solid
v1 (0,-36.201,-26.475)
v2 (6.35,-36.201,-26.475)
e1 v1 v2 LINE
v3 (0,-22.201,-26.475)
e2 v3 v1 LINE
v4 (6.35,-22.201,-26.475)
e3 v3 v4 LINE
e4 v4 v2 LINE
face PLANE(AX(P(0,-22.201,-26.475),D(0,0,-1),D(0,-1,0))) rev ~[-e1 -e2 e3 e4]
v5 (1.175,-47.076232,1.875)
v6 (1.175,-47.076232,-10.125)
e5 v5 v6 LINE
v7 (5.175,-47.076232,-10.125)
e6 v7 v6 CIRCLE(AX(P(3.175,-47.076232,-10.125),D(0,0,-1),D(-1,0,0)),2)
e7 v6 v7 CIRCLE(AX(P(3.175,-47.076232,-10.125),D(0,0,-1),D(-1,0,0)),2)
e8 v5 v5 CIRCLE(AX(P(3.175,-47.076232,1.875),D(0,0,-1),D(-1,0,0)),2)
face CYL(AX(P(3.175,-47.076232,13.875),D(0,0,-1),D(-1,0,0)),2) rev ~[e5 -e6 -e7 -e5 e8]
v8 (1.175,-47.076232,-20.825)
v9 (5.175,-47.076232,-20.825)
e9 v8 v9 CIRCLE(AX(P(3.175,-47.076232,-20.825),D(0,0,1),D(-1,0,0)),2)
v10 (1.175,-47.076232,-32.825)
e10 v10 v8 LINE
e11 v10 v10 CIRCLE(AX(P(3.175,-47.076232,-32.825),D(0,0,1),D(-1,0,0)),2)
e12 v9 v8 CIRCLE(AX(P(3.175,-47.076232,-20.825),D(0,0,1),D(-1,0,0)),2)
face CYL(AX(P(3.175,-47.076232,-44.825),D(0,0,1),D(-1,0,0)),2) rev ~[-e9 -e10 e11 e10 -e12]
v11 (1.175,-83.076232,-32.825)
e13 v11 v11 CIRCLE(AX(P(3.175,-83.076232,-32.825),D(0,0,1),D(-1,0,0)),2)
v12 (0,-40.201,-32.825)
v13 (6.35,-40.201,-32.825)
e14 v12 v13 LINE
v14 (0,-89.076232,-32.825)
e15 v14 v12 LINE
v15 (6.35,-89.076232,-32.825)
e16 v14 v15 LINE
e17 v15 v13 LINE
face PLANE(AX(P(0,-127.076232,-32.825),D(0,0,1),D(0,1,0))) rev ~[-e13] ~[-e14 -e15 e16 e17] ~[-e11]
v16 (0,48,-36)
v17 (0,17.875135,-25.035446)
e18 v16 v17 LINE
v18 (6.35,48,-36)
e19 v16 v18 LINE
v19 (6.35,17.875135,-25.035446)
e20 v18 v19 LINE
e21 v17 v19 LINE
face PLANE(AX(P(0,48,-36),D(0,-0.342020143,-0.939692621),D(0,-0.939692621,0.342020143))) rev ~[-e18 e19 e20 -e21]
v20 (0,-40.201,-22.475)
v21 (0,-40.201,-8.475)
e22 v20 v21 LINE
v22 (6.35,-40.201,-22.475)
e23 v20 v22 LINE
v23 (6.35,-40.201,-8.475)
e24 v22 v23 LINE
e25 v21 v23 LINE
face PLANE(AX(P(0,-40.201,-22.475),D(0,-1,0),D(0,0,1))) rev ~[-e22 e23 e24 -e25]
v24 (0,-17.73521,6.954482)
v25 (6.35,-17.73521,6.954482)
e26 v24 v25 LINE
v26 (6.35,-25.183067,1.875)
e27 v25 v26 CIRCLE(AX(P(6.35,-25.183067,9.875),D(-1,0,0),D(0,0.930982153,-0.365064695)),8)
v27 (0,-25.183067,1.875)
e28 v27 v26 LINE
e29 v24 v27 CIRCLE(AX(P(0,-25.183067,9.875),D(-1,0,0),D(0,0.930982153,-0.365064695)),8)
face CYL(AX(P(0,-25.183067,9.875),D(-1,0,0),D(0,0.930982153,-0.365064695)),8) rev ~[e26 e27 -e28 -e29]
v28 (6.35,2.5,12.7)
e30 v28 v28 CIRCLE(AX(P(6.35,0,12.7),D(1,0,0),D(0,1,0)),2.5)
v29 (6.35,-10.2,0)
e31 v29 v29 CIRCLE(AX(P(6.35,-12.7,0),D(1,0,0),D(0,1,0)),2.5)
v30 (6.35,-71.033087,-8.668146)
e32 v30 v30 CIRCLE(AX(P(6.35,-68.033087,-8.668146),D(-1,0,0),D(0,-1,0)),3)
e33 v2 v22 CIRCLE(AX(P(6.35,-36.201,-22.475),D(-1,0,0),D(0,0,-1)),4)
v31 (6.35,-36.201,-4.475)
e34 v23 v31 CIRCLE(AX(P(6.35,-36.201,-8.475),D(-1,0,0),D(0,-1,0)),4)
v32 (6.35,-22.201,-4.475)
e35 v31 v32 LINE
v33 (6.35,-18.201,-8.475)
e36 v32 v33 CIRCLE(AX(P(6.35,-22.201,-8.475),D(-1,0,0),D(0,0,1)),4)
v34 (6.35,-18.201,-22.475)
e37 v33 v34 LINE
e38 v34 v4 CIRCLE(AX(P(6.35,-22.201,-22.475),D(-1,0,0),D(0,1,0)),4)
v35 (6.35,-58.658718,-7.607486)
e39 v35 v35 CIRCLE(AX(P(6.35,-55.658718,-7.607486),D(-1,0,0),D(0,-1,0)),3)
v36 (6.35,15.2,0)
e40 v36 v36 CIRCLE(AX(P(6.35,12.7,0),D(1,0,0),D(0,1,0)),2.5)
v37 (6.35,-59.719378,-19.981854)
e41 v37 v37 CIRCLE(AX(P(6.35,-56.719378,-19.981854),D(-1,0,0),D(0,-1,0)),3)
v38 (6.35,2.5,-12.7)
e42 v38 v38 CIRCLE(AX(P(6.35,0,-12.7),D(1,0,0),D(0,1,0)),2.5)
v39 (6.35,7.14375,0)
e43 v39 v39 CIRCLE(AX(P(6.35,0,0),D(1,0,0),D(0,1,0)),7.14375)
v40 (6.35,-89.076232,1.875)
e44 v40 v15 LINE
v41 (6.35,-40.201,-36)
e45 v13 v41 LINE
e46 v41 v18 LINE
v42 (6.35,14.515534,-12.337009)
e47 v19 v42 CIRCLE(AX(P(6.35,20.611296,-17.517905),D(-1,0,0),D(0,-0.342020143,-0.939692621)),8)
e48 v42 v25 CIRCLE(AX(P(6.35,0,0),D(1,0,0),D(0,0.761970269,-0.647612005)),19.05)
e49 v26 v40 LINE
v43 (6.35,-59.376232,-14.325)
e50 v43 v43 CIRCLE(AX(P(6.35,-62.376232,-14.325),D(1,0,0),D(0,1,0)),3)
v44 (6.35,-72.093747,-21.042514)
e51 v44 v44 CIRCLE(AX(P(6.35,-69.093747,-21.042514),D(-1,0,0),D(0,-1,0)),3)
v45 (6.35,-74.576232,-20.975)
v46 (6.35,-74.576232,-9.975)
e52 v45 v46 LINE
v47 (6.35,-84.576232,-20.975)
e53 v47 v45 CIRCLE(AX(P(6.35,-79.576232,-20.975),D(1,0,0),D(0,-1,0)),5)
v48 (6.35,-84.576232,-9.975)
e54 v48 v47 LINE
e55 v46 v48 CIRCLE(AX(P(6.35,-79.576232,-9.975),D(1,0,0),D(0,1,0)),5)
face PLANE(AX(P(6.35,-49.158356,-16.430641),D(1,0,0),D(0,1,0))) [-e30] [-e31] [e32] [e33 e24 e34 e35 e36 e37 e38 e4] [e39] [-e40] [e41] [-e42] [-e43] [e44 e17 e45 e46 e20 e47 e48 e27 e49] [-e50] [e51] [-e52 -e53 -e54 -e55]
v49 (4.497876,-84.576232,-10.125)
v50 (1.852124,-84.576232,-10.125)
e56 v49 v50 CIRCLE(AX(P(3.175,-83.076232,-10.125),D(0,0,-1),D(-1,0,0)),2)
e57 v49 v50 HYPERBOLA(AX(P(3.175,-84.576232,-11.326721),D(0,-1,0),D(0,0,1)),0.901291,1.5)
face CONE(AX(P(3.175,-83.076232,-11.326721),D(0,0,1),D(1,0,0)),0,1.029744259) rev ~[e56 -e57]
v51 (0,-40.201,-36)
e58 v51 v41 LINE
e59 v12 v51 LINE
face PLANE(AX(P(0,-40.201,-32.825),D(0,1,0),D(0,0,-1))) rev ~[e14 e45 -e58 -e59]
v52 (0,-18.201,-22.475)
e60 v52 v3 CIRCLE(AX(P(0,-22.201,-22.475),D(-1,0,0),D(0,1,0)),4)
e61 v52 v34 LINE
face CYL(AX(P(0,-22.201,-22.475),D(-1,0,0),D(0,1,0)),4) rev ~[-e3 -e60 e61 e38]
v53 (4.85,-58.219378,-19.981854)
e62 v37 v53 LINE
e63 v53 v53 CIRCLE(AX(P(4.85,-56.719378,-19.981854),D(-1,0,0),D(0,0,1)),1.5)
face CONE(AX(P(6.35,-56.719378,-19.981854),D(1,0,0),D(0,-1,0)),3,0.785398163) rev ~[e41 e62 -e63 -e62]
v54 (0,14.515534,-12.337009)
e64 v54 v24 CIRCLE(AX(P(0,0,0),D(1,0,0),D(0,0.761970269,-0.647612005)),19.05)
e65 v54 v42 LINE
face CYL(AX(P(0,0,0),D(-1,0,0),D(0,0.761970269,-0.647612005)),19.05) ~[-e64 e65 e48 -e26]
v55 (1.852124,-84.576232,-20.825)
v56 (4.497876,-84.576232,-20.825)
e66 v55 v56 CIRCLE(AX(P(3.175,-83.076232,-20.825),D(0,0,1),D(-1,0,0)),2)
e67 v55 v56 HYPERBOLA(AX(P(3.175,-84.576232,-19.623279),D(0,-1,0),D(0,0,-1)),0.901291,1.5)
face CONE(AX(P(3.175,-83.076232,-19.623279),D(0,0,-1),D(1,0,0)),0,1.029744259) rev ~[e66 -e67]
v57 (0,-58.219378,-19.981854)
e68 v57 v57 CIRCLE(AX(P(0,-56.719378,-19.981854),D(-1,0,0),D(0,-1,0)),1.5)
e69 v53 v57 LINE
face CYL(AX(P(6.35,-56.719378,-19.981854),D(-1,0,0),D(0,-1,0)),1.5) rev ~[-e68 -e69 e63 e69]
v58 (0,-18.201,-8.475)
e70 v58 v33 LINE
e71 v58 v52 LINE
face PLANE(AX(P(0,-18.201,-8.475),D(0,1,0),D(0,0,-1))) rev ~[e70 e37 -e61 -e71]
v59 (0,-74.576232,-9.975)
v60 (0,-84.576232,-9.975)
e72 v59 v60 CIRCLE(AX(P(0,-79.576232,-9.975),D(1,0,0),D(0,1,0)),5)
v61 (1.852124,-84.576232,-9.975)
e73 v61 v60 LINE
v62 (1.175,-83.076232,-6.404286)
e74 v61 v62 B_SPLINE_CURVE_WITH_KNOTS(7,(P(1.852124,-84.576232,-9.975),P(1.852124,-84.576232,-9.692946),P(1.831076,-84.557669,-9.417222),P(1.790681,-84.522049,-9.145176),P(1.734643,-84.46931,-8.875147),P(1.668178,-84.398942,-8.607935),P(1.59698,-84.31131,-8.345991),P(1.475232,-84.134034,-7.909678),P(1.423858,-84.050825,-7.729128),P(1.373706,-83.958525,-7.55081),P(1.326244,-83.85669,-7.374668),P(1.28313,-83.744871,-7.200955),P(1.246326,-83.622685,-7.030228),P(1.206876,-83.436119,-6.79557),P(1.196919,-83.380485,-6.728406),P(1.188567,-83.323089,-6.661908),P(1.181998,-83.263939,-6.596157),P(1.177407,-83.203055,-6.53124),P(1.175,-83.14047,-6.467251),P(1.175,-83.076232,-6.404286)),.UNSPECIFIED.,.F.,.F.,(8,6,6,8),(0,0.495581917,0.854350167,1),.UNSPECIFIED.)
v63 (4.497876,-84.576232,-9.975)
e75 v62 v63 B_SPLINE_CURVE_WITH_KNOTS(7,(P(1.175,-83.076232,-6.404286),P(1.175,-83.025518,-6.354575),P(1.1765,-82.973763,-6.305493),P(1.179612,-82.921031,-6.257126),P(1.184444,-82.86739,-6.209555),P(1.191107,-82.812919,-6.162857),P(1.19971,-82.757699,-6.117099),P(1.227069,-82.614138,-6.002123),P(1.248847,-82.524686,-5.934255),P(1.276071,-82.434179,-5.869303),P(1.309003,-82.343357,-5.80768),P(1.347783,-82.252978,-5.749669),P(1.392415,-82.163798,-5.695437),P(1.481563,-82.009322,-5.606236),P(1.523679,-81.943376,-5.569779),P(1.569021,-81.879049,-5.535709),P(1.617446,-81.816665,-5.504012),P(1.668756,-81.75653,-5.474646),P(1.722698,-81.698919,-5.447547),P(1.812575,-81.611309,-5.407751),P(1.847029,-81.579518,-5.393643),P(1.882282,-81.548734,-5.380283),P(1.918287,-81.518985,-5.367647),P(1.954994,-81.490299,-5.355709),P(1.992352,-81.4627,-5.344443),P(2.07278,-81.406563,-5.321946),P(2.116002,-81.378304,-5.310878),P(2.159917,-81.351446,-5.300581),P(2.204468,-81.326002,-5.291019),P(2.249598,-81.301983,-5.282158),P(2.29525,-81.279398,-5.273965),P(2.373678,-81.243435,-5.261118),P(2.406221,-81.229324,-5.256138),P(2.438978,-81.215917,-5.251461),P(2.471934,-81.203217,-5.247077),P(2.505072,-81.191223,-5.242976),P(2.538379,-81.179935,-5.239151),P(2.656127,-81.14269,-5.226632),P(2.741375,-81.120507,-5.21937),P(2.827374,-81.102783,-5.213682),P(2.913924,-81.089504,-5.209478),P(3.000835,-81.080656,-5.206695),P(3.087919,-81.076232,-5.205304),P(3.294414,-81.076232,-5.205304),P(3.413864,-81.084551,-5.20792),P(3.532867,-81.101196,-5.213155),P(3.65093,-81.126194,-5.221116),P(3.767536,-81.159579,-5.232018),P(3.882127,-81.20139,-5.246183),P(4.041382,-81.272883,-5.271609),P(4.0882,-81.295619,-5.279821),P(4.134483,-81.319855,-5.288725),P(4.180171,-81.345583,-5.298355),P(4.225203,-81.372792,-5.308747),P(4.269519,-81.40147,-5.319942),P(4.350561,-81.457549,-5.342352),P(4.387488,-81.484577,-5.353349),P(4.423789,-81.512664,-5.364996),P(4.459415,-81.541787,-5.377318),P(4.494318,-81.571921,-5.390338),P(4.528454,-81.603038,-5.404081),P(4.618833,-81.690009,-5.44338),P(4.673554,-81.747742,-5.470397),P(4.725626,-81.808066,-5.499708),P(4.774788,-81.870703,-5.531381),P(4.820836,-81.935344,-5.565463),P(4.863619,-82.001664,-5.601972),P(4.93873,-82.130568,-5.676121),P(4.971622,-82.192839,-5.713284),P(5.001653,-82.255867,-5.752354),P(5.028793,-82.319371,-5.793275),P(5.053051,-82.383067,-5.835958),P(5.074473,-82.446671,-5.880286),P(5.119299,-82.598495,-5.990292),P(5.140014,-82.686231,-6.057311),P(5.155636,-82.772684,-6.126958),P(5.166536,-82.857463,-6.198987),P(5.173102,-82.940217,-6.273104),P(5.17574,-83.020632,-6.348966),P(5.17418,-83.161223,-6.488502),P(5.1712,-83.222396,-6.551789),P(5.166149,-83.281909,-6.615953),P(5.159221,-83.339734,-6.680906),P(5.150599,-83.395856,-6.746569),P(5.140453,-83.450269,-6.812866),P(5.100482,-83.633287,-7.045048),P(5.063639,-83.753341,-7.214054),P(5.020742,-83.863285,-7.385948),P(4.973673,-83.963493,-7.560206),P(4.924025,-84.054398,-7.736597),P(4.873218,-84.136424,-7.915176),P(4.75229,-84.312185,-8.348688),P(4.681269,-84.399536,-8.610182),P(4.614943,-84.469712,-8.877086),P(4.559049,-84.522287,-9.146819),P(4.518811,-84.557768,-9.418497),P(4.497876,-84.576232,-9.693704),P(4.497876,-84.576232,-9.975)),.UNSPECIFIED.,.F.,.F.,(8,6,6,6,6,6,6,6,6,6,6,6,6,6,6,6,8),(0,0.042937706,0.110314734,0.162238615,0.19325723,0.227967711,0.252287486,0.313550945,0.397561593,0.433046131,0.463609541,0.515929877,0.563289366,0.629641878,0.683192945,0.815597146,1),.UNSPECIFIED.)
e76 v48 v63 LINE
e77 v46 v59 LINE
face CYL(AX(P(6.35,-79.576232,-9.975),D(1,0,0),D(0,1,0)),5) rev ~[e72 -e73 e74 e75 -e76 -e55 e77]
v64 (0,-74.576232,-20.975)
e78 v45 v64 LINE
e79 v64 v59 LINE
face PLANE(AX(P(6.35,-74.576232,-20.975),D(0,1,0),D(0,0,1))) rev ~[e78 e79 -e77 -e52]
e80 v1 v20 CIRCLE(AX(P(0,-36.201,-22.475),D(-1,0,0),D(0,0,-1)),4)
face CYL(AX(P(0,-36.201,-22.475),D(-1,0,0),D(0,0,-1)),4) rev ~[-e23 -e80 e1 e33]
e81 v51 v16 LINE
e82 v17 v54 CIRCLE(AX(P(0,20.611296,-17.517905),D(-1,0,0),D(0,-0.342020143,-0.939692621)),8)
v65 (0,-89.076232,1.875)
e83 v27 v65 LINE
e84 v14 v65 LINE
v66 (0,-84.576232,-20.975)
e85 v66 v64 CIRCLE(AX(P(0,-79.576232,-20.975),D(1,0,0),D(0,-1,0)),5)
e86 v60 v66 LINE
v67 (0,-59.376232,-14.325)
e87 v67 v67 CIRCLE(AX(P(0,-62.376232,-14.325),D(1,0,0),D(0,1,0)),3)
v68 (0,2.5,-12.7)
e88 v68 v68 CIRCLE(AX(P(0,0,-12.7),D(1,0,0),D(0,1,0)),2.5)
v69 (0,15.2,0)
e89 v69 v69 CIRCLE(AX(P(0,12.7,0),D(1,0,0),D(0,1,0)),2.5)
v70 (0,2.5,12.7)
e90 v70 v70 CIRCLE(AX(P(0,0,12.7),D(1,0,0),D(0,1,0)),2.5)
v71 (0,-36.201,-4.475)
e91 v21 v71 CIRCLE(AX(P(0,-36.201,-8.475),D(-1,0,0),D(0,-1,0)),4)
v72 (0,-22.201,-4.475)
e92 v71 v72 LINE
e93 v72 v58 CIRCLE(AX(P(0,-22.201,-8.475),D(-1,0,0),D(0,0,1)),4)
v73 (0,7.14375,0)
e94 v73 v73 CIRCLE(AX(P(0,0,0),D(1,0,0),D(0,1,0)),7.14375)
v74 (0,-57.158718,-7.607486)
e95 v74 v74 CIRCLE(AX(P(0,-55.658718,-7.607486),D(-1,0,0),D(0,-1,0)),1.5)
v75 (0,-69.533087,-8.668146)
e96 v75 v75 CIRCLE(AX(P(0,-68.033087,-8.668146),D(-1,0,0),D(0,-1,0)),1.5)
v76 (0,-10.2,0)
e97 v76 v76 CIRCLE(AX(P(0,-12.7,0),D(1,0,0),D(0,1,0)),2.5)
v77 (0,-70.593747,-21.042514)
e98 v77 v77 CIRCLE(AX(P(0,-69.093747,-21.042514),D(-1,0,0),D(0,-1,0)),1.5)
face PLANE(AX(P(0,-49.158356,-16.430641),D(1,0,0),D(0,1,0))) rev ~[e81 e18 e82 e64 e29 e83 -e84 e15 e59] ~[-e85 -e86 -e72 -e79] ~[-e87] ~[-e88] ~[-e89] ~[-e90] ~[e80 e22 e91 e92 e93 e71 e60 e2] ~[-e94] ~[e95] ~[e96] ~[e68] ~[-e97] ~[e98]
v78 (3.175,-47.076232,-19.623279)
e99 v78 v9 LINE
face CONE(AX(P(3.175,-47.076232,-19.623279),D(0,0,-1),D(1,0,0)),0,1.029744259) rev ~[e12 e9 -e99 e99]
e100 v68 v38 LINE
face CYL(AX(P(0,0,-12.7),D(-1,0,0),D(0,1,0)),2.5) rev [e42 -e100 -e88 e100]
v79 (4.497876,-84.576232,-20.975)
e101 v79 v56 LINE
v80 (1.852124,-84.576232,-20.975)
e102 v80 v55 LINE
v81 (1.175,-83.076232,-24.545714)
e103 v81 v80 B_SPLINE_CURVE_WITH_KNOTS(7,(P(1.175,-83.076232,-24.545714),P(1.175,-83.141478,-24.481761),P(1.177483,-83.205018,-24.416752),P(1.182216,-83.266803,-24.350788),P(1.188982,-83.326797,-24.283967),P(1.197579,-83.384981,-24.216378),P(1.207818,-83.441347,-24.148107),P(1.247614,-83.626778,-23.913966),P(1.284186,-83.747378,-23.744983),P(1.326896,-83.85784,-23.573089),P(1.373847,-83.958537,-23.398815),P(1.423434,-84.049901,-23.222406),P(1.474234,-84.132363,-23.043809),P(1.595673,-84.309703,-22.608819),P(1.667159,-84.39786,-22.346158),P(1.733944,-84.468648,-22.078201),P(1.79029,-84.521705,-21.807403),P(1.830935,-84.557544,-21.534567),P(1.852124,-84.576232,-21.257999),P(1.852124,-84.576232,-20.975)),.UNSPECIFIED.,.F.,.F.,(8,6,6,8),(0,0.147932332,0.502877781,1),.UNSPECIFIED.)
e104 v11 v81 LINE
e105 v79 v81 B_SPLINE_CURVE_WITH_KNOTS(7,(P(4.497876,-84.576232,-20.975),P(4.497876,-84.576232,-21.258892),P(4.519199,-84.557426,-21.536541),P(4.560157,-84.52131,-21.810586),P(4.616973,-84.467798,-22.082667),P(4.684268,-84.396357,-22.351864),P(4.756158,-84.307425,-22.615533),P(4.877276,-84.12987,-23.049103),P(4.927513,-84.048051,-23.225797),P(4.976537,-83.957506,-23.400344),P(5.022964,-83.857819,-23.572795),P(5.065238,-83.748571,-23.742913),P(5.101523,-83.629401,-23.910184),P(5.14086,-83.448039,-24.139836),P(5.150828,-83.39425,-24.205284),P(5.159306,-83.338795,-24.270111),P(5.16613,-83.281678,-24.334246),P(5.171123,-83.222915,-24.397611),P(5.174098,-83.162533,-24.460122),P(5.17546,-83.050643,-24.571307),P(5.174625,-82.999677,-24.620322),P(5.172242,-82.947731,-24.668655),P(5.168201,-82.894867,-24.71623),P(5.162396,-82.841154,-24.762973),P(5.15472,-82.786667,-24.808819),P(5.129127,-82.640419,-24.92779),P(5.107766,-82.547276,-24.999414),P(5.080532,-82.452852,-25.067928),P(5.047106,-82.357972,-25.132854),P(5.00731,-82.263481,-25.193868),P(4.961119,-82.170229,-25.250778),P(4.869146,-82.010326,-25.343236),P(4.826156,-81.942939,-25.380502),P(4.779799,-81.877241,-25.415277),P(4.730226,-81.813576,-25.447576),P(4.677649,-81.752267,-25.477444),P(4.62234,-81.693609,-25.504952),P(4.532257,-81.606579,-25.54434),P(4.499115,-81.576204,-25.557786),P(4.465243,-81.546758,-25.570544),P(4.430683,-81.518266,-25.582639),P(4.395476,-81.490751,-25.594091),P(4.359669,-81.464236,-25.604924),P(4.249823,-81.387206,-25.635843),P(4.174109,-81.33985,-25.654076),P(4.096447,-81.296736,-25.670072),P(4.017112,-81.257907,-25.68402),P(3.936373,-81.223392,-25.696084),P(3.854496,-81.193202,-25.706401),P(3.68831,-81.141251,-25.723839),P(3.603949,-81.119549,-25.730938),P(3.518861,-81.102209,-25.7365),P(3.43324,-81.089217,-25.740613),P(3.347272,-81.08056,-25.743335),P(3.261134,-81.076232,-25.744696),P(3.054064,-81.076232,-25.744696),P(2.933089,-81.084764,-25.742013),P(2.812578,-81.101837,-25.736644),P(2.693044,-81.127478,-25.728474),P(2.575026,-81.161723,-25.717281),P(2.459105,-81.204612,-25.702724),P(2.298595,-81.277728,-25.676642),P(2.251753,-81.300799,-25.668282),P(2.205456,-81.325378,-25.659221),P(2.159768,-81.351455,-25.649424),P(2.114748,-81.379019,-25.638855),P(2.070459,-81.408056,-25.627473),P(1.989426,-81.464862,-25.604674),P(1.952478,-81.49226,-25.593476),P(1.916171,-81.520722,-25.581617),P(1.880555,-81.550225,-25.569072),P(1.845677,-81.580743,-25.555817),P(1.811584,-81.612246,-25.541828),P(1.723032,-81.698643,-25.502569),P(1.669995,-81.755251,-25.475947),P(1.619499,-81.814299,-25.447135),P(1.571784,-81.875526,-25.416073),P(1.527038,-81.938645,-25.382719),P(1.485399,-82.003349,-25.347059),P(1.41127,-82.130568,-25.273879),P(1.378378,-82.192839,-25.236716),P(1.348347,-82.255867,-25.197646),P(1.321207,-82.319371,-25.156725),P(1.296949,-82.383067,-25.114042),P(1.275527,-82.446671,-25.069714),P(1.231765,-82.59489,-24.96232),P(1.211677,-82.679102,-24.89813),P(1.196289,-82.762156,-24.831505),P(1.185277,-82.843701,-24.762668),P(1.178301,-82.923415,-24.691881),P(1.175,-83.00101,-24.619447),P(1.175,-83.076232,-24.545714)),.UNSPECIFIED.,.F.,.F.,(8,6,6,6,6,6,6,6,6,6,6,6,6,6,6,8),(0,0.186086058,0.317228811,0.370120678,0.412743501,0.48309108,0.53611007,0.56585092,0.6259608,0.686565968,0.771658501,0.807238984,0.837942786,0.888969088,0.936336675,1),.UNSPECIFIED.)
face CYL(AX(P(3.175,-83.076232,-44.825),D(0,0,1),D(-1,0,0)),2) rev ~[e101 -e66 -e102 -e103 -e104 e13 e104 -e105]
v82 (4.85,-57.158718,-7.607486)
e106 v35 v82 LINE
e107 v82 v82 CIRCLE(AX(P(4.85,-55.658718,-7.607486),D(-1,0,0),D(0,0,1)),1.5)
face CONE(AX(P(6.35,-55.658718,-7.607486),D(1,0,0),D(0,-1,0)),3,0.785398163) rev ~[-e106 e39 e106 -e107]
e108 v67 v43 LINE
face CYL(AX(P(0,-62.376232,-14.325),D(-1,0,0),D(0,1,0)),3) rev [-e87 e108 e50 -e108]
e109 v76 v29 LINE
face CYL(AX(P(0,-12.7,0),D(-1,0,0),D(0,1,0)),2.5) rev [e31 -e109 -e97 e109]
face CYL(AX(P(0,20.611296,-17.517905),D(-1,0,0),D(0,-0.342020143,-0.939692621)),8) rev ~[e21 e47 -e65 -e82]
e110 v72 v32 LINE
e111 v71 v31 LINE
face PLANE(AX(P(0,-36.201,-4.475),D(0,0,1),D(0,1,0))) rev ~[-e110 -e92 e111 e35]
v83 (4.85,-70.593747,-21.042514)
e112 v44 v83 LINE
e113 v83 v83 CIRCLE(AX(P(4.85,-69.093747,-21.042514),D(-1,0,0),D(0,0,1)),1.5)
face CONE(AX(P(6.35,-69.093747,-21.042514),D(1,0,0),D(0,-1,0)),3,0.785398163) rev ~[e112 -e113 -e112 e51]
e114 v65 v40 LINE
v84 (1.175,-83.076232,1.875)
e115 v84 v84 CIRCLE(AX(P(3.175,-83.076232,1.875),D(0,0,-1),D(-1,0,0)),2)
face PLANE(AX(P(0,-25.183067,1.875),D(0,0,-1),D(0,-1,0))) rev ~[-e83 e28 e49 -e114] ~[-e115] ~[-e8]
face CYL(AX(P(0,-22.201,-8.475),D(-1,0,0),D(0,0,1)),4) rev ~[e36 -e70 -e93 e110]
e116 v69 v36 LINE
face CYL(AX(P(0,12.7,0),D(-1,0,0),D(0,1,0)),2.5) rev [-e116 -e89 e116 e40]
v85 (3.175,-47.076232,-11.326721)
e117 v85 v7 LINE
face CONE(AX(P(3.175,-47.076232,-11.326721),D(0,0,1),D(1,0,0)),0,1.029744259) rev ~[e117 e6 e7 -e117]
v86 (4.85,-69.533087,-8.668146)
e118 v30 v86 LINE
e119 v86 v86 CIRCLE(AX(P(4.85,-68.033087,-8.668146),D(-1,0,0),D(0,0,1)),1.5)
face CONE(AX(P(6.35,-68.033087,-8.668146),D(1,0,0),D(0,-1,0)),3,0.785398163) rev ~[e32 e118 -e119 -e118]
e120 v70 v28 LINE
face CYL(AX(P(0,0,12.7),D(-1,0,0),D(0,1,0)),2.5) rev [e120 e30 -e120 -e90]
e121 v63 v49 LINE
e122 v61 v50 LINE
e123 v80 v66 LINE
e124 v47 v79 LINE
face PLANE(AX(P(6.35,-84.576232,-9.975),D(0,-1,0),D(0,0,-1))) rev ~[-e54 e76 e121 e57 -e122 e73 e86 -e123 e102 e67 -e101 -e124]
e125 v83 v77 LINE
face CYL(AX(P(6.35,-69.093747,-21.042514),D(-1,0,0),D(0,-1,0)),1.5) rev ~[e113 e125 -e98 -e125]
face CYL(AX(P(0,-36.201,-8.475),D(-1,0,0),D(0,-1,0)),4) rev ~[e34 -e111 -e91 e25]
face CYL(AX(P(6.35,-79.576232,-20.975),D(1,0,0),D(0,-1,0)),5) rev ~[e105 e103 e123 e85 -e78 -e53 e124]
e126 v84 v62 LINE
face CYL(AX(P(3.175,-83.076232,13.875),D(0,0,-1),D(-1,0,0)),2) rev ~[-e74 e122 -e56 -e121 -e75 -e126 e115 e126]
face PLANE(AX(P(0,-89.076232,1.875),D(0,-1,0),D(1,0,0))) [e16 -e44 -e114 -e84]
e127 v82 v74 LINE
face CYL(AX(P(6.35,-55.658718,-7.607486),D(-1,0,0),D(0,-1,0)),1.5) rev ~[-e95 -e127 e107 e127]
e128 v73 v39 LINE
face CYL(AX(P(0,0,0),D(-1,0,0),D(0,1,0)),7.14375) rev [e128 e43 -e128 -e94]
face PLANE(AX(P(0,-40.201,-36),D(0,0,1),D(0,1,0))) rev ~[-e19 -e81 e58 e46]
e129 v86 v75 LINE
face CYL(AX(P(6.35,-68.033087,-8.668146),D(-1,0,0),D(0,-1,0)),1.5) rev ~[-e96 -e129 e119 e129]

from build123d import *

# Parameters (mm, degrees)
F0_R           = 3
F0_R_2         = 2.5
F0_R_3         = 7.14375
F1_DEPTH       = 6.35
F3_D           = 3
F3_CSINK_D     = 6
F3_CSINK_ANGLE = 90
F5_DEPTH       = 25
F6_W           = 6.35
F6_H           = 38
F7_DEPTH       = 37.876
F9_D           = 4
F9_DEPTH       = 12
F9_TIP         = 1.2017212381
F11_D          = 4
F11_DEPTH      = 12
F11_TIP        = 1.2017212381


with BuildPart() as f1:
    # F0 (on Right) → F1 (new body)
    with BuildSketch(Plane.YZ):
        with BuildLine():
            ThreePointArc((17.8751346366, -25.0354456965), (12.8773903734, -19.5640491806), (14.5155336292, -12.3370086917))
            ThreePointArc((14.5155336292, -12.3370086917), (9.7791608288, 16.348410121), (-17.735210007, 6.9544824399))
            ThreePointArc((-17.735210007, 6.9544824399), (-20.675525796, 3.2657587243), (-25.1830672278, 1.875))
            Line((-25.1830672278, 1.875), (-127.0762324528, 1.875))
            Line((-127.0762324528, 1.875), (-127.0762324528, -4.475))
            Line((-127.0762324528, -4.475), (-93.0762324528, -4.475))
            ThreePointArc((-93.0762324528, -4.475), (-90.247805328, -5.6465728753), (-89.0762324528, -8.475))
            Line((-89.0762324528, -8.475), (-89.0762324528, -22.475))
            ThreePointArc((-89.0762324528, -22.475), (-90.247805328, -25.3034271247), (-93.0762324528, -26.475))
            Line((-93.0762324528, -26.475), (-127.0762324528, -26.475))
            Line((-127.0762324528, -26.475), (-127.0762324528, -32.825))
            Line((-127.0762324528, -32.825), (-40.201, -32.825))
            Line((-40.201, -32.825), (-40.201, -36))
            Line((-40.201, -36), (48, -36))
            Line((48, -36), (17.8751346366, -25.0354456965))
        make_face()
        with Locations((-62.3762324528, -14.325)):
            Circle(F0_R, mode=Mode.SUBTRACT)
        with BuildLine():
            ThreePointArc((-40.201, -8.475), (-39.0294271247, -5.6465728753), (-36.201, -4.475))
            Line((-36.201, -4.475), (-22.201, -4.475))
            ThreePointArc((-22.201, -4.475), (-19.3725728753, -5.6465728753), (-18.201, -8.475))
            Line((-18.201, -8.475), (-18.201, -22.475))
            ThreePointArc((-18.201, -22.475), (-19.3725728753, -25.3034271247), (-22.201, -26.475))
            Line((-22.201, -26.475), (-36.201, -26.475))
            ThreePointArc((-36.201, -26.475), (-39.0294271247, -25.3034271247), (-40.201, -22.475))
            Line((-40.201, -22.475), (-40.201, -8.475))
        make_face(mode=Mode.SUBTRACT)
        with Locations((0, -12.7)):
            Circle(F0_R_2, mode=Mode.SUBTRACT)
        with Locations((-12.7, 0)):
            Circle(F0_R_2, mode=Mode.SUBTRACT)
        Circle(F0_R_3, mode=Mode.SUBTRACT)
        with Locations((12.7, 0)):
            Circle(F0_R_2, mode=Mode.SUBTRACT)
        with Locations((0, 12.7)):
            Circle(F0_R_2, mode=Mode.SUBTRACT)
    extrude(amount=F1_DEPTH)

    # F3 (through all)
    with Locations(Plane.YZ.offset(6.35)):
        with Locations((-55.6587180315, -7.6074855787), (-68.0330867022, -8.6681457505), (-69.093746874, -21.0425144213), (-56.7193782033, -19.9818542495)):
            CounterSinkHole(F3_D / 2, F3_CSINK_D / 2, counter_sink_angle=F3_CSINK_ANGLE)

    # F4 (on face) → F5 (cut)
    with BuildSketch(Plane.YZ.offset(6.35)):
        with BuildLine():
            ThreePointArc((-74.5762324528, -9.975), (-79.5762324528, -4.975), (-84.5762324528, -9.975))
            Line((-84.5762324528, -9.975), (-84.5762324528, -20.975))
            ThreePointArc((-84.5762324528, -20.975), (-79.5762324528, -25.975), (-74.5762324528, -20.975))
            Line((-74.5762324528, -20.975), (-74.5762324528, -9.975))
        make_face()
    extrude(amount=-F5_DEPTH, mode=Mode.SUBTRACT)

    # F6 (on face) → F7 (cut, through all)
    with BuildSketch(Plane.XY.offset(1.875)):
        with Locations((3.175, -108.0762324528)):
            Rectangle(F6_W, F6_H)
    extrude(amount=-F7_DEPTH, mode=Mode.SUBTRACT)

    # F9
    with Locations(Plane.XY.offset(1.875)):
        with Locations((3.175, -47.0762324528), (3.175, -83.0762324528)):
            Hole(F9_D / 2, depth=F9_DEPTH)
            with Locations((0, 0, -(F9_DEPTH + F9_TIP / 2))):  # 118° drill point
                Cone(0, F9_D / 2, F9_TIP, mode=Mode.SUBTRACT)

    # F11
    with Locations(Plane(origin=(0, 0, -32.825), x_dir=(1, 0, 0), z_dir=(0, 0, -1))):
        with Locations((3.175, 47.0762324528), (3.175, 83.0762324528)):
            Hole(F11_D / 2, depth=F11_DEPTH)
            with Locations((0, 0, -(F11_DEPTH + F11_TIP / 2))):  # 118° drill point
                Cone(0, F11_D / 2, F11_TIP, mode=Mode.SUBTRACT)


solid = f1.part
